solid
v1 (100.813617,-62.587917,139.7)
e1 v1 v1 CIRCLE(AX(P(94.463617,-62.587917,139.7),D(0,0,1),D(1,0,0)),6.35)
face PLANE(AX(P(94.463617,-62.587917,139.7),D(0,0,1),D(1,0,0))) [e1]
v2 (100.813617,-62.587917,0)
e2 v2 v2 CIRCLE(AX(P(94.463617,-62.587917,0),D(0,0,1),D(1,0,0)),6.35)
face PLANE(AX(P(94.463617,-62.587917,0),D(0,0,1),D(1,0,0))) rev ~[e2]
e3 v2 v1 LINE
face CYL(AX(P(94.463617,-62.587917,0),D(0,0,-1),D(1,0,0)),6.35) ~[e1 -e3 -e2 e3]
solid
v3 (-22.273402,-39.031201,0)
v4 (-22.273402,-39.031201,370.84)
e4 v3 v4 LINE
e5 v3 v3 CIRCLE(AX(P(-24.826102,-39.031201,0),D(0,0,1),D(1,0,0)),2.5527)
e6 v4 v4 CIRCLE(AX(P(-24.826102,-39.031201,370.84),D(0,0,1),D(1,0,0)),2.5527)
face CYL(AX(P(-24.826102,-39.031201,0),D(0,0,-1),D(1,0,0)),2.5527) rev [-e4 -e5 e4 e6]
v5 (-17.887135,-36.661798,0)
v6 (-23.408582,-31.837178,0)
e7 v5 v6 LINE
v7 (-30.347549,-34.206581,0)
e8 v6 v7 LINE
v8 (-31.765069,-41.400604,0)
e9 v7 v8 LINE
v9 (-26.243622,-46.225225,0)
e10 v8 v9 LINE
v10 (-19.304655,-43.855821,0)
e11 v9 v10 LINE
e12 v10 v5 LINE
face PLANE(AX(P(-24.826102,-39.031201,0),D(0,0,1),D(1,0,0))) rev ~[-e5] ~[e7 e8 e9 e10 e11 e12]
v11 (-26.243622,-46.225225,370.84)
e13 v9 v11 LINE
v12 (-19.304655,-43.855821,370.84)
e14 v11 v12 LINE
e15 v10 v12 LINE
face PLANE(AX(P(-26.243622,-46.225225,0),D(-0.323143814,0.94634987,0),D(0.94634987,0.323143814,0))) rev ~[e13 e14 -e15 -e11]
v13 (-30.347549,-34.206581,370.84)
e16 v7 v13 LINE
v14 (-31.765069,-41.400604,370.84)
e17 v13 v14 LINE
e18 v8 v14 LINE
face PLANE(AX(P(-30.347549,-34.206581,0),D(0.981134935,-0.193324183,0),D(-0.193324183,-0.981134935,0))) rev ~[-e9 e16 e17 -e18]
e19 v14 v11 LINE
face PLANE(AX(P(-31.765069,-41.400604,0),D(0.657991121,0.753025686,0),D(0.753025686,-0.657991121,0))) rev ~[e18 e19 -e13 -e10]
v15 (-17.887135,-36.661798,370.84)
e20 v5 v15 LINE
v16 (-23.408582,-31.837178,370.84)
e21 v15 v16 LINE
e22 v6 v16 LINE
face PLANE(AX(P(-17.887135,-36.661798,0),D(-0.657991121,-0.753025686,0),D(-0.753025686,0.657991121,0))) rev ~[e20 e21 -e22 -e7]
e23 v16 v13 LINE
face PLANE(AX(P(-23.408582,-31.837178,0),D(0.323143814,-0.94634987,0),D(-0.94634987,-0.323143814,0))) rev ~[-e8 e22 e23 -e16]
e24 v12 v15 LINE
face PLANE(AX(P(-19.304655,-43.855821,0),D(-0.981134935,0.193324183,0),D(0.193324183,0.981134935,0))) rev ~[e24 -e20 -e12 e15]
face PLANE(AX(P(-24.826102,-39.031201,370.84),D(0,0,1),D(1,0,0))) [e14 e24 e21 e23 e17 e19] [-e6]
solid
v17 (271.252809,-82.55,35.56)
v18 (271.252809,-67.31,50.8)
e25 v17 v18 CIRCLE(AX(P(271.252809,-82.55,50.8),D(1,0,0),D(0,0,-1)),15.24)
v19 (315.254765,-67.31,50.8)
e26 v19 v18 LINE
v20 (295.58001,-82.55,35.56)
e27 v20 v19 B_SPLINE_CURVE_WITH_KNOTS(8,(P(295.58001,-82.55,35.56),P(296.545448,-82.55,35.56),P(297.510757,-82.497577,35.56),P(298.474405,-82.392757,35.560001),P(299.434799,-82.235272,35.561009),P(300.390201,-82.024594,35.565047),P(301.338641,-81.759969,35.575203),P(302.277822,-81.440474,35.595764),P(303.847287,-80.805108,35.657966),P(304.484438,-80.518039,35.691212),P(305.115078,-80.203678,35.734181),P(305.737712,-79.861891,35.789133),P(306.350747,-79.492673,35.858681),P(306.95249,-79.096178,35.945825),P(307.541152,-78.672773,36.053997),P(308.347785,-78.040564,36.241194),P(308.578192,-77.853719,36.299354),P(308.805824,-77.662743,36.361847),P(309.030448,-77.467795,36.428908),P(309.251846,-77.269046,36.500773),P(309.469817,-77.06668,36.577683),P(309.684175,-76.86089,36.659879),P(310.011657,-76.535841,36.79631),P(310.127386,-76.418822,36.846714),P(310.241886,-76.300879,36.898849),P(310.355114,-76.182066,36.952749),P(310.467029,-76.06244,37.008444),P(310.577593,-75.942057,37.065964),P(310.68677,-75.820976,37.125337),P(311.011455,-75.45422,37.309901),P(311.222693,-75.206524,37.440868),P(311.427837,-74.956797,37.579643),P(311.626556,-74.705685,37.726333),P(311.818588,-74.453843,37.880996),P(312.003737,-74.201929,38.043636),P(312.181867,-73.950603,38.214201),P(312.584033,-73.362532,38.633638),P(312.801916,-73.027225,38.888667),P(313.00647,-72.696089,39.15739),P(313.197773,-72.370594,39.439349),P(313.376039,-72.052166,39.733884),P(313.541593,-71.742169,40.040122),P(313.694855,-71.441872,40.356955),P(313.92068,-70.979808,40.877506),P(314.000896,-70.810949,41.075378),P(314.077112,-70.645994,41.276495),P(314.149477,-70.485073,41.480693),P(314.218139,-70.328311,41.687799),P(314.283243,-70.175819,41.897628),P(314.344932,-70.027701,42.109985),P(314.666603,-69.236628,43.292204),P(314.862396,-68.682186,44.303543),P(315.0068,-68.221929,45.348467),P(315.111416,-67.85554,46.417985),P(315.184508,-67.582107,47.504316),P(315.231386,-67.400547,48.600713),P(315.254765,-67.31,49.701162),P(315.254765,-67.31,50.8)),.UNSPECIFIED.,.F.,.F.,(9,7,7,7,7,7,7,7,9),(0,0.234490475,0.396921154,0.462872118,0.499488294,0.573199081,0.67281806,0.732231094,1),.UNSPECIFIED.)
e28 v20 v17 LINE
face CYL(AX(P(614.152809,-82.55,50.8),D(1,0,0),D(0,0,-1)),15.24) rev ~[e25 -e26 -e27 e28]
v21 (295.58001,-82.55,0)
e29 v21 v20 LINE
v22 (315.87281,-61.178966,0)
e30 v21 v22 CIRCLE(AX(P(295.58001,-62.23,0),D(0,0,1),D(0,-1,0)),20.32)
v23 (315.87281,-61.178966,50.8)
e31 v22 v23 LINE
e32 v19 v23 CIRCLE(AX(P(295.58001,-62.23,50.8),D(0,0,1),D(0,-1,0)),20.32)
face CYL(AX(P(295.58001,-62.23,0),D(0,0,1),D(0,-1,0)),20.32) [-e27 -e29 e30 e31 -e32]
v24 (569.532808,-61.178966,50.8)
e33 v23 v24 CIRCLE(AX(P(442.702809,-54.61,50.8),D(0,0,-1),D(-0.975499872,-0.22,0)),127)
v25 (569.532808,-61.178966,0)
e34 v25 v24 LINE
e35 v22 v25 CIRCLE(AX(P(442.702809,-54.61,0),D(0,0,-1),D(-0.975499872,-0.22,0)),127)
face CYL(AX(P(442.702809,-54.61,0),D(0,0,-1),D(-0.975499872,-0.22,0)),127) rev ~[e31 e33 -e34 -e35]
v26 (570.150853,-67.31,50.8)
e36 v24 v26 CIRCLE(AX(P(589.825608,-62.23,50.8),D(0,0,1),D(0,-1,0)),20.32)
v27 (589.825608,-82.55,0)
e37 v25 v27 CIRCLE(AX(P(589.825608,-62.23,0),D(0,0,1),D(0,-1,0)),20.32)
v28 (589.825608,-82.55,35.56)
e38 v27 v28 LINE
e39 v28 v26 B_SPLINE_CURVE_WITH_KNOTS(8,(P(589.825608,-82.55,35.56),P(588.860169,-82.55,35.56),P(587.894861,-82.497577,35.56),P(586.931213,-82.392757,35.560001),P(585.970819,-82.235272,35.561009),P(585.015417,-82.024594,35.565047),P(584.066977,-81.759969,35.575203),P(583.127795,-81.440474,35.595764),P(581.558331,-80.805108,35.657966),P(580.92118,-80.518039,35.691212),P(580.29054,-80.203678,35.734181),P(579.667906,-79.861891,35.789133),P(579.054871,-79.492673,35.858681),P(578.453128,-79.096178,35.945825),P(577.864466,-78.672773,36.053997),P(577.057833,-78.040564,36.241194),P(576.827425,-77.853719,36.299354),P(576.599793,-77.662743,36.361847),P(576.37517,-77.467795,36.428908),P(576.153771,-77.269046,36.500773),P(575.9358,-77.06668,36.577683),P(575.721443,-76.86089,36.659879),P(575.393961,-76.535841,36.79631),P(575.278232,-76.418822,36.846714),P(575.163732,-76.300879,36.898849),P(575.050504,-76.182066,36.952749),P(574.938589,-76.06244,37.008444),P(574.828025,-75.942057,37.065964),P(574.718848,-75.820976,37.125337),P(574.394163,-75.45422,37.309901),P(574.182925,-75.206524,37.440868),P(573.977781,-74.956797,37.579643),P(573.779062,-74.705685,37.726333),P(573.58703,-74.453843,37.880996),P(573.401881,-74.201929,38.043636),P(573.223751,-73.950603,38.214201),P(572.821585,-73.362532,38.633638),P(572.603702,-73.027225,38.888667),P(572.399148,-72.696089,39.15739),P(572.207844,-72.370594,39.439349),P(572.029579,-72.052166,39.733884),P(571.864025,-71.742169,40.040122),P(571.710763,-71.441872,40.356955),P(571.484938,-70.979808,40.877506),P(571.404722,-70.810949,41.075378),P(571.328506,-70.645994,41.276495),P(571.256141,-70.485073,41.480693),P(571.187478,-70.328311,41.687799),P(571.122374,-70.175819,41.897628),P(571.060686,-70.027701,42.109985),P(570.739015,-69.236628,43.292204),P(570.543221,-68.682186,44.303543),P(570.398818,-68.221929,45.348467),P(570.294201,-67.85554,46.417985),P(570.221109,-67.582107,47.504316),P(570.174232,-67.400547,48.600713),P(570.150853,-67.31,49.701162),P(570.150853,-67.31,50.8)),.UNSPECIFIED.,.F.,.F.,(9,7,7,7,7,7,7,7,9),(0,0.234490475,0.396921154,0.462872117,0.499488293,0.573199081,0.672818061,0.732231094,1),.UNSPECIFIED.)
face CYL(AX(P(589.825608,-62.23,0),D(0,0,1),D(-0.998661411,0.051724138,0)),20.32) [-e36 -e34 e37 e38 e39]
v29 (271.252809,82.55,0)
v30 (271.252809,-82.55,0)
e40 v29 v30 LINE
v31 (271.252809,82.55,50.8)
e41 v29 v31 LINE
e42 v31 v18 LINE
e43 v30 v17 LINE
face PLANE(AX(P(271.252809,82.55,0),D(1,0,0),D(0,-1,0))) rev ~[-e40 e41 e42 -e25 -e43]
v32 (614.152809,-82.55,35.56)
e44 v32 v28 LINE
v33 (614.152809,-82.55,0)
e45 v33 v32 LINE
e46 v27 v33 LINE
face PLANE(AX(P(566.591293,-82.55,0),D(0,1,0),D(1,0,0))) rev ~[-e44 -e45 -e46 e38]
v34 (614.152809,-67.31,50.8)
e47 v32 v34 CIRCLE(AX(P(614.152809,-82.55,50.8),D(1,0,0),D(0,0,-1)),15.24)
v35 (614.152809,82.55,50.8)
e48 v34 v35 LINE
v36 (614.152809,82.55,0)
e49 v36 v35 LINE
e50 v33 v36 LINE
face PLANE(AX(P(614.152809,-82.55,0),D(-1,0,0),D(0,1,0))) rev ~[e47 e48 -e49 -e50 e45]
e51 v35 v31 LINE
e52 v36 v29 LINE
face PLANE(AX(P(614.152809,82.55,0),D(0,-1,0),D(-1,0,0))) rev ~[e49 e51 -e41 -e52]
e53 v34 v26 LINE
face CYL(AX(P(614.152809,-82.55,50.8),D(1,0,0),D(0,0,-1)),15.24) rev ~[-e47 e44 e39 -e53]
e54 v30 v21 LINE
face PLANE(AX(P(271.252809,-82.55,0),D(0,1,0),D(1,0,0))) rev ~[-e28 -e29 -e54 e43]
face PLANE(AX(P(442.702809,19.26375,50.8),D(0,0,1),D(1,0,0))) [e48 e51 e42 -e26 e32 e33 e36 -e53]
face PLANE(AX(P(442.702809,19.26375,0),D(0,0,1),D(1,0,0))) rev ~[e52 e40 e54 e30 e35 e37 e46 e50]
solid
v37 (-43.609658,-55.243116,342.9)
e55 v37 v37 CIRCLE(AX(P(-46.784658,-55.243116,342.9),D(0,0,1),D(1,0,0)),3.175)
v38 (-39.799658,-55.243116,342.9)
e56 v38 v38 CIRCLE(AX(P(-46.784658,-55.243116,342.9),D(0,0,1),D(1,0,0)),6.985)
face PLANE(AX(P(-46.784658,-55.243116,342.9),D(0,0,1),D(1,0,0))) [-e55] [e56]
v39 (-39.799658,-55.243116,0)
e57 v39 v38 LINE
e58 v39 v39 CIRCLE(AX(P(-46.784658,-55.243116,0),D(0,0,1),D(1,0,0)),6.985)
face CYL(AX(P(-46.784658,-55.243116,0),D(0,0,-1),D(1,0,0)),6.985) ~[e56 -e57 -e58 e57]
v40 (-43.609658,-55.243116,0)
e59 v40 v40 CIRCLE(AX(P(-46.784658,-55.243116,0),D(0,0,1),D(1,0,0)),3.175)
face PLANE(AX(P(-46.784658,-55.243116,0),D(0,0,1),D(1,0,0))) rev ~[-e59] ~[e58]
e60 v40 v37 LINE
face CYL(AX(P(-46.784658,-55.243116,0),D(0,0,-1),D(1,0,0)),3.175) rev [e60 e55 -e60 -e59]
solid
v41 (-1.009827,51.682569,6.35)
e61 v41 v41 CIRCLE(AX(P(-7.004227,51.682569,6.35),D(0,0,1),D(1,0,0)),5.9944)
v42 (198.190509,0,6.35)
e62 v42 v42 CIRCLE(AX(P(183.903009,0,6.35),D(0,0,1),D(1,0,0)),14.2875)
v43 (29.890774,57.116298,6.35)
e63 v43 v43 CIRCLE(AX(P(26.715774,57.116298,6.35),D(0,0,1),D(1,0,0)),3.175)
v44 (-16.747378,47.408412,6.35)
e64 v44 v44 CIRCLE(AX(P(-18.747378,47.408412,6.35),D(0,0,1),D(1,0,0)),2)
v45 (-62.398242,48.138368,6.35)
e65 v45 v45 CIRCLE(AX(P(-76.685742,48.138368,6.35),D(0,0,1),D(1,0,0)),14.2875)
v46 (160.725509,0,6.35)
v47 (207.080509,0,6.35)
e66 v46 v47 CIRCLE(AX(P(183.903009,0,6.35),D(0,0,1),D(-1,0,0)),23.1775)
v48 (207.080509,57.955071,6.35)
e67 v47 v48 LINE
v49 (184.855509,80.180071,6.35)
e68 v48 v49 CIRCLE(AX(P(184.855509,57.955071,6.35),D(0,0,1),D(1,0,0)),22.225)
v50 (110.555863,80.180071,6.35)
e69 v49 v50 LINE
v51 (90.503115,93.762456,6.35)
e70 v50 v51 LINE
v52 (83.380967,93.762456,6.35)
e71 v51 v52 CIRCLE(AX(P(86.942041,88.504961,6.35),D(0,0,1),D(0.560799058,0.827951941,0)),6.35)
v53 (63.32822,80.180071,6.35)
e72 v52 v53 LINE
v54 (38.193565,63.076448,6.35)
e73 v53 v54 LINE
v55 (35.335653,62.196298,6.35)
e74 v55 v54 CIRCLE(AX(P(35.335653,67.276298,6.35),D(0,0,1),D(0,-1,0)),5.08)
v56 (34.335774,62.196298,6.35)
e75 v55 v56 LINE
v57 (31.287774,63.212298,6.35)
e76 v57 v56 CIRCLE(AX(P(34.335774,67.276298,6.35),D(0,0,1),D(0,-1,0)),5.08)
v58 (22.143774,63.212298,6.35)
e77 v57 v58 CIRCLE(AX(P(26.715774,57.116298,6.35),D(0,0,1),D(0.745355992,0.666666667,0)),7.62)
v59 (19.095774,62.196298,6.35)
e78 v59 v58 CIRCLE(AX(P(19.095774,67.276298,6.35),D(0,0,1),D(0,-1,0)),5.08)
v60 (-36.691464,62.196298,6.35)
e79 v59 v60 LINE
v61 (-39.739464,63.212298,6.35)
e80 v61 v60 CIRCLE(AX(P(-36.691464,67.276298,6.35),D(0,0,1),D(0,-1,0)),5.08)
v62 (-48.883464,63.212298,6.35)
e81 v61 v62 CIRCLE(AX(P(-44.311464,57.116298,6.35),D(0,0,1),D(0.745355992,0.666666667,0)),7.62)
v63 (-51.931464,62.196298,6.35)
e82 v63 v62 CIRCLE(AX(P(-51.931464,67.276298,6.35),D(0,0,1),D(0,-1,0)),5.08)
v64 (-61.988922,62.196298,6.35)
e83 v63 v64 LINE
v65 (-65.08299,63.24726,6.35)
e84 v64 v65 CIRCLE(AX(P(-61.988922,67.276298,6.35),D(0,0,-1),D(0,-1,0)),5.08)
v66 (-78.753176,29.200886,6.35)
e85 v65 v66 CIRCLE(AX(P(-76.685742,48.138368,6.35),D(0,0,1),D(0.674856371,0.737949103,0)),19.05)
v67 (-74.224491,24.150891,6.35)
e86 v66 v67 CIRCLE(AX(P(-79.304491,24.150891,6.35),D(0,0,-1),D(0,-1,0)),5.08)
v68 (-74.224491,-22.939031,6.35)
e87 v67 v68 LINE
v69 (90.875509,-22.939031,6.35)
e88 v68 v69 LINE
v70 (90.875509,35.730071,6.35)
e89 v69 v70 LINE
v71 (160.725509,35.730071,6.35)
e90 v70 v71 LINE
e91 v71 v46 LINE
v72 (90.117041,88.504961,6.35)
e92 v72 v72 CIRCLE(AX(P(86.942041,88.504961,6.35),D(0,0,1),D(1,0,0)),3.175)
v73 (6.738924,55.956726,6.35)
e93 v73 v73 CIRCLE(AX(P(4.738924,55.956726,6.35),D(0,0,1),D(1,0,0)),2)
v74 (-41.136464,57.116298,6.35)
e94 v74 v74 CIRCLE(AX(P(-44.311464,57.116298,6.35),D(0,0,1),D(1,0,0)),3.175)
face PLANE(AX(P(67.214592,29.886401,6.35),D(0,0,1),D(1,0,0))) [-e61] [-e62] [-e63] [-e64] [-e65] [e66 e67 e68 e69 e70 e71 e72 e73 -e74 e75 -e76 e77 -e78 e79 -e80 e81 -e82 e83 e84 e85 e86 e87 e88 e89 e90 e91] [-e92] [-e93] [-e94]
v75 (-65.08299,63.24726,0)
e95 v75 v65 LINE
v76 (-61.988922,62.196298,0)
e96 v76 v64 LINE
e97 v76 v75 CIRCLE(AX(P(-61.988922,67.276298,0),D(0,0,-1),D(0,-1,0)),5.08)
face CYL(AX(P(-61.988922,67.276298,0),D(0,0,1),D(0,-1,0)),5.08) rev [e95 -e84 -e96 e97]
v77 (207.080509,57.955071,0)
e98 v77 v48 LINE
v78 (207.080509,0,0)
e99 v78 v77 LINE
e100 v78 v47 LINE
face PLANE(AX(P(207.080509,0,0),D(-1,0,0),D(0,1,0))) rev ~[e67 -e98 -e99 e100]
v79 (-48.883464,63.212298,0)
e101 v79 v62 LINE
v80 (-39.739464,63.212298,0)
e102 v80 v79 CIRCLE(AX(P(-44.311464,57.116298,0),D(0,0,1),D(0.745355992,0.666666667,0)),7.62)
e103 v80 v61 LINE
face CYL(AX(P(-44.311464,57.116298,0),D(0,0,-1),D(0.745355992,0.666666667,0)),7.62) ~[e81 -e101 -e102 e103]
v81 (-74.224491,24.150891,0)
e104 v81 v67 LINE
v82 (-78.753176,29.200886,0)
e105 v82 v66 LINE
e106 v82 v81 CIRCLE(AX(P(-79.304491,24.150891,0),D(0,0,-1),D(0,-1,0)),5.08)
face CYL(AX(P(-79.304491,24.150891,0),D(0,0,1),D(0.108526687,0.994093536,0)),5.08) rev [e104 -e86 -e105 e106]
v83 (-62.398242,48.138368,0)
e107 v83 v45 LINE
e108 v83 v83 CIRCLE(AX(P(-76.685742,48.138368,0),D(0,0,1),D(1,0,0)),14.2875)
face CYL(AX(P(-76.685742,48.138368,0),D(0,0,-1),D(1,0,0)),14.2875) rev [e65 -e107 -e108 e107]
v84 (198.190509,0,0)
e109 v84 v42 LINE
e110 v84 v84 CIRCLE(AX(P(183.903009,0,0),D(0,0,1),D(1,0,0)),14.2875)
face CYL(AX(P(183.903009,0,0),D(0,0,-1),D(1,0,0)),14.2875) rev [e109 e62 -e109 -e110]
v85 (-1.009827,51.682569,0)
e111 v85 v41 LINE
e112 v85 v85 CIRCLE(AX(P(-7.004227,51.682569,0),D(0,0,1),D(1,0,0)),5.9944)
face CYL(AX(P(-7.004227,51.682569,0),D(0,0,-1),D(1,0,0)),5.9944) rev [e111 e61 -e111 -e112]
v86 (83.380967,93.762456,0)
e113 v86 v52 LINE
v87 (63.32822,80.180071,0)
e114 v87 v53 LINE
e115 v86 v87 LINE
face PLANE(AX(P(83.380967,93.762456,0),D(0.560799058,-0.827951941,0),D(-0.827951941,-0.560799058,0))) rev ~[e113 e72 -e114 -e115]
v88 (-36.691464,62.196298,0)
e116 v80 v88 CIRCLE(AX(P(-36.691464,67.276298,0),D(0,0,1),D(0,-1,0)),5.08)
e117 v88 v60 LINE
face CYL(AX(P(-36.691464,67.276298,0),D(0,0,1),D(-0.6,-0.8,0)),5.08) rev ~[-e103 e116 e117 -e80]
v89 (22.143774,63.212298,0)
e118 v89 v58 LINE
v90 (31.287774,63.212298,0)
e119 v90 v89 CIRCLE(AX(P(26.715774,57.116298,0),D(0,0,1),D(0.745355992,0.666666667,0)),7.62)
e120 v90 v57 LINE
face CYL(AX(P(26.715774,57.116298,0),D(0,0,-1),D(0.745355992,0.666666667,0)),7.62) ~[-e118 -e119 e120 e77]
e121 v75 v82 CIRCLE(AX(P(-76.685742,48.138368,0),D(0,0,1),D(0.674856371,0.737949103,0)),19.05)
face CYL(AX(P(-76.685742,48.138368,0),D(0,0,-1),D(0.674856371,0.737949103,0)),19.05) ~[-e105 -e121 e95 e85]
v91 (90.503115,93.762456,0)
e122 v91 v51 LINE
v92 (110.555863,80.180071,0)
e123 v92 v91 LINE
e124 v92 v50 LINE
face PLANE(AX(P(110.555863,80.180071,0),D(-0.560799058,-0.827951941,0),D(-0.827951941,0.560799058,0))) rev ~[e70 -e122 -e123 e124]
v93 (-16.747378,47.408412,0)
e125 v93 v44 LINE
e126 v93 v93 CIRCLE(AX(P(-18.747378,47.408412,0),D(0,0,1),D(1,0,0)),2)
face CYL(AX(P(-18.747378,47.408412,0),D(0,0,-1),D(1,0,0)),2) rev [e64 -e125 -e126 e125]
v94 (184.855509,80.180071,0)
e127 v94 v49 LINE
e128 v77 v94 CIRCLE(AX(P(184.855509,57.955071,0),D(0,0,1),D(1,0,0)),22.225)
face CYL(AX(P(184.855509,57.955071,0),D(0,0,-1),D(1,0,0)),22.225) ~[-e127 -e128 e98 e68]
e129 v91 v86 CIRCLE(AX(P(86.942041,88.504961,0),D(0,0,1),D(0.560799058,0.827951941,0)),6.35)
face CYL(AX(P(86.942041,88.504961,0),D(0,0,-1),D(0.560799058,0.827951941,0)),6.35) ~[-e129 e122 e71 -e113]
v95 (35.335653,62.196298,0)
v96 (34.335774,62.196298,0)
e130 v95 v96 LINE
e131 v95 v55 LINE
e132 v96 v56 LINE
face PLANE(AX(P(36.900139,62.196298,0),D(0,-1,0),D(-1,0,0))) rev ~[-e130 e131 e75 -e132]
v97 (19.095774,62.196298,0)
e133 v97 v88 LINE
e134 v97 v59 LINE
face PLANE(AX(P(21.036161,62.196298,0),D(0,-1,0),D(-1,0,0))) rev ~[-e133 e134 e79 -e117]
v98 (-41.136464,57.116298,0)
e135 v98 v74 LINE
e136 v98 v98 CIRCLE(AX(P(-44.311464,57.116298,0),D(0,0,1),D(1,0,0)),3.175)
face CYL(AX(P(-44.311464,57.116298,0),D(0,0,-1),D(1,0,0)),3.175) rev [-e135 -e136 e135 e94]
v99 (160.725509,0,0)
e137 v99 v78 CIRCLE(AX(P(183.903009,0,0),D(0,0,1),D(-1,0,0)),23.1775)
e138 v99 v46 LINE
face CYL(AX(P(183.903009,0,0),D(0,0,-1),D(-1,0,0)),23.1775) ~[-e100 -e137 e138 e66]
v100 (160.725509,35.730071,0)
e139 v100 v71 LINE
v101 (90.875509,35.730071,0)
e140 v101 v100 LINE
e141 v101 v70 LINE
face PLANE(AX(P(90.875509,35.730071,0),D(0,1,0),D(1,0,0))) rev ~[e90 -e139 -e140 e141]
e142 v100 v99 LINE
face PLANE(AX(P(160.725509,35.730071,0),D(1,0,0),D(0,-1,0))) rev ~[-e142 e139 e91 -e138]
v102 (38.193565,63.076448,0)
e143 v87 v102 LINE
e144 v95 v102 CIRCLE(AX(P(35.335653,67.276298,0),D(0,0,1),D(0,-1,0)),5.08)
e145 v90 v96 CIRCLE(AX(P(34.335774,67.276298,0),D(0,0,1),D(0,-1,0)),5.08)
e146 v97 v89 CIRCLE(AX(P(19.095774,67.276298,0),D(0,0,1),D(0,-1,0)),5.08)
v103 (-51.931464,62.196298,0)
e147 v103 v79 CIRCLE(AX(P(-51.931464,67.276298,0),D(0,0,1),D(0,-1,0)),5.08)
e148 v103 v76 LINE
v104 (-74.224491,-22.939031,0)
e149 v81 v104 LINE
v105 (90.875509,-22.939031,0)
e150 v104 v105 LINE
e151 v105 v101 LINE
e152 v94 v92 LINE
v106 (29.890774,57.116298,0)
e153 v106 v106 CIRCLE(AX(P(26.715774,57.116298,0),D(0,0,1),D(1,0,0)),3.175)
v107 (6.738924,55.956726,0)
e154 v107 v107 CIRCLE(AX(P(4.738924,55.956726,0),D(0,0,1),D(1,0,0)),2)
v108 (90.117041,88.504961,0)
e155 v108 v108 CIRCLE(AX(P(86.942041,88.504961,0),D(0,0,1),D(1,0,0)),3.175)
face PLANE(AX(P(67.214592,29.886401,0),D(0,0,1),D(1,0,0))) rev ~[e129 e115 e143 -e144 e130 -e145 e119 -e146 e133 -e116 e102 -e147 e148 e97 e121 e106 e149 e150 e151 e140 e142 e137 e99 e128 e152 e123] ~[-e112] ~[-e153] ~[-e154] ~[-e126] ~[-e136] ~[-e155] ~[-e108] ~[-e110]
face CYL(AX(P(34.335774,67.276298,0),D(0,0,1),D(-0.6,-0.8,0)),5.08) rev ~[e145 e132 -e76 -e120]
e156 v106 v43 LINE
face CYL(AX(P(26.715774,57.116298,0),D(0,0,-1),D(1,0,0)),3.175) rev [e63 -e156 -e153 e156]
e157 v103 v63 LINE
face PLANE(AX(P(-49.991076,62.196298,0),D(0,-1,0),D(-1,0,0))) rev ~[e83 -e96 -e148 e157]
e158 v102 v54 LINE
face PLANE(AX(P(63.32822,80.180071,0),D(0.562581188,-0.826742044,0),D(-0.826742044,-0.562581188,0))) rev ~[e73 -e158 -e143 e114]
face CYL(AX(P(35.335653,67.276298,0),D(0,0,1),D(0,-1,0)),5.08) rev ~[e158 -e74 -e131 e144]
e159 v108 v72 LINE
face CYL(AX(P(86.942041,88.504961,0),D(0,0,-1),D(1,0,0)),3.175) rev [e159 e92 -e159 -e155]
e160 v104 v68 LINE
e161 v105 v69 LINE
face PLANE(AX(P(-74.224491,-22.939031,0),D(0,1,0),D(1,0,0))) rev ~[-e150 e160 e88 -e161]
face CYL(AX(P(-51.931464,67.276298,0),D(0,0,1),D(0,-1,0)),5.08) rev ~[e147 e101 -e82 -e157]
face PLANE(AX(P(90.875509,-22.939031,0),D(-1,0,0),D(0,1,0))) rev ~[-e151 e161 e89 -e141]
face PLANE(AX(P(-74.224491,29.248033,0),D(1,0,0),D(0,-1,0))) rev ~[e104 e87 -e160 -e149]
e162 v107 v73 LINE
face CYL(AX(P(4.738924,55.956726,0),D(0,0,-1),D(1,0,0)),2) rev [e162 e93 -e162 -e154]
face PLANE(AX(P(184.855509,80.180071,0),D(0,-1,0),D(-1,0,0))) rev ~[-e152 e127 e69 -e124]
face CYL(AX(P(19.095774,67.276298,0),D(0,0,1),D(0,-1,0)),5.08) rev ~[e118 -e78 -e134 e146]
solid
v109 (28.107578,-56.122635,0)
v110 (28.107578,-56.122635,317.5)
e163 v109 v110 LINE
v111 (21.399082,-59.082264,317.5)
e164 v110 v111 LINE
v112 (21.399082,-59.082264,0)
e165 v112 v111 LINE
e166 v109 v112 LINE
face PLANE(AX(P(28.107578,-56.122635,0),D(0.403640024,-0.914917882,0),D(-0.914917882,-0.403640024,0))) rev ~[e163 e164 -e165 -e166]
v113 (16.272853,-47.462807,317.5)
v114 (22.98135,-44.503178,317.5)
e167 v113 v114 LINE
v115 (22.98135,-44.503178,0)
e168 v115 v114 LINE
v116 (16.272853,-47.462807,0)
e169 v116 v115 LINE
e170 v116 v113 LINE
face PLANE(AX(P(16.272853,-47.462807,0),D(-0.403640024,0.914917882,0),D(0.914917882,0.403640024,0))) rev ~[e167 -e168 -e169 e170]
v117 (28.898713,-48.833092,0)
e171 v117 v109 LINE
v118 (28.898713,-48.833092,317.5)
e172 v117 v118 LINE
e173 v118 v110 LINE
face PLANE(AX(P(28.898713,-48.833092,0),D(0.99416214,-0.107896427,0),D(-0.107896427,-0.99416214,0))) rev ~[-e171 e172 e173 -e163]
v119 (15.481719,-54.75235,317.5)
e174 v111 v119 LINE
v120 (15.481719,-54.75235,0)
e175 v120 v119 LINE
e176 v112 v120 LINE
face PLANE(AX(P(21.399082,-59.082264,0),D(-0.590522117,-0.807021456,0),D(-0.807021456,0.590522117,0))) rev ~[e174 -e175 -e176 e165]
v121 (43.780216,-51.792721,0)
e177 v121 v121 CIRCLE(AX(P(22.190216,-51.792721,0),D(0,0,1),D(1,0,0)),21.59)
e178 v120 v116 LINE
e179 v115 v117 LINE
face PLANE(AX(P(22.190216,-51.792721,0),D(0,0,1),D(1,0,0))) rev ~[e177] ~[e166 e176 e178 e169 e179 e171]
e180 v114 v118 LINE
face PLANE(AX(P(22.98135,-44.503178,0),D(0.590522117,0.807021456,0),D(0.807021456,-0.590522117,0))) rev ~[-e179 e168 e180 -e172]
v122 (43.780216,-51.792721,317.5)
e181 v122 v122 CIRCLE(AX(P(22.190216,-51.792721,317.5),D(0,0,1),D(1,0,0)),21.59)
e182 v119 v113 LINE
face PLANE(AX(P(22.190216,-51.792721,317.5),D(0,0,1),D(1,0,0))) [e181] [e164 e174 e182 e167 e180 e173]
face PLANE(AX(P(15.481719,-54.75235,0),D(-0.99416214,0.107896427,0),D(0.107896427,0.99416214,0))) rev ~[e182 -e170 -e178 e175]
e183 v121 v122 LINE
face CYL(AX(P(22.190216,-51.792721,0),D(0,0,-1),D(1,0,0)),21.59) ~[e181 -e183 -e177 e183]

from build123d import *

# Parameters (mm, degrees)
F1_R      = 14.2875
F1_R_2    = 3.175
F1_R_3    = 2
F1_R_4    = 5.9944
F2_DEPTH  = 6.35
F3_R      = 6.985
F3_R_2    = 3.175
F4_DEPTH  = 342.9
F5_R      = 2.5527
F6_DEPTH  = 370.84
F7_R      = 21.59
F8_DEPTH  = 317.5
F10_DEPTH = 50.8
F11_R     = 20.32
F13_DEPTH = 342.9
F14_R     = 6.35
F15_DEPTH = 139.7
F16_R     = 5.08


with BuildPart() as f2:
    # F1 (on Top) → F2 (new body)
    with BuildSketch(Plane.XY):
        with BuildLine():
            Line((-49.9910764957, 62.1962980512), (-63.8297284243, 62.1962980512))
            ThreePointArc((-63.8297284243, 62.1962980512), (-94.8530671804, 53.8699299137), (-74.2244912377, 29.2480329821))
            Line((-74.2244912377, 29.2480329821), (-74.2244912377, -22.9390313281))
            Line((-74.2244912377, -22.9390313281), (90.8755087623, -22.9390313281))
            Line((90.8755087623, -22.9390313281), (90.8755087623, 35.7300707037))
            Line((90.8755087623, 35.7300707037), (160.7255087623, 35.7300707037))
            Line((160.7255087623, 35.7300707037), (160.7255087623, 0))
            ThreePointArc((160.7255087623, 0), (183.9030087623, -23.1775), (207.0805087623, 0))
            Line((207.0805087623, 0), (207.0805087623, 57.9550707037))
            ThreePointArc((207.0805087623, 57.9550707037), (200.5709569742, 73.6705189156), (184.8555087623, 80.1800707037))
            Line((184.8555087623, 80.1800707037), (110.5558629778, 80.1800707037))
            Line((110.5558629778, 80.1800707037), (90.5031153064, 93.7624556725))
            ThreePointArc((90.5031153064, 93.7624556725), (86.9420412896, 94.8549608464), (83.3809672727, 93.7624556725))
            Line((83.3809672727, 93.7624556725), (63.3282196013, 80.1800707037))
            Line((63.3282196013, 80.1800707037), (36.9001390489, 62.1962980512))
            Line((36.9001390489, 62.1962980512), (32.3953867519, 62.1962980512))
            ThreePointArc((32.3953867519, 62.1962980512), (26.7157740891, 64.7362980512), (21.0361614262, 62.1962980512))
            Line((21.0361614262, 62.1962980512), (-38.63185117, 62.1962980512))
            ThreePointArc((-38.63185117, 62.1962980512), (-44.3114638329, 64.7362980512), (-49.9910764957, 62.1962980512))
        make_face()
        with Locations((183.9030087623, 0)):
            Circle(F1_R, mode=Mode.SUBTRACT)
        with Locations((-76.6857422854, 48.1383676345)):
            Circle(F1_R, mode=Mode.SUBTRACT)
        with Locations((-44.3114638329, 57.1162980512)):
            Circle(F1_R_2, mode=Mode.SUBTRACT)
        with Locations((-18.747377767, 47.4084117594)):
            Circle(F1_R_3, mode=Mode.SUBTRACT)
        with Locations((-7.0042270236, 51.6825690866)):
            Circle(F1_R_4, mode=Mode.SUBTRACT)
        with Locations((4.7389237199, 55.9567264137)):
            Circle(F1_R_3, mode=Mode.SUBTRACT)
        with Locations((26.7157740891, 57.1162980512)):
            Circle(F1_R_2, mode=Mode.SUBTRACT)
        with Locations((86.9420412896, 88.5049608464)):
            Circle(F1_R_2, mode=Mode.SUBTRACT)
    extrude(amount=F2_DEPTH)

    # F16
    f16_edges = [f2.edges().sort_by_distance(p)[0] for p in [
        (-38.631851, 62.196298, 3.175),
        (21.036161, 62.196298, 3.175),
        (32.395387, 62.196298, 3.175),
        (36.900139, 62.196298, 3.175),
        (-49.991076, 62.196298, 3.175),
        (-63.829728, 62.196298, 3.175),
        (-74.224491, 29.248033, 3.175),
    ]]
    fillet(f16_edges, radius=F16_R)


with BuildPart() as f4:
    # F3 (on Top) → F4 (new body)
    with BuildSketch(Plane.XY):
        with Locations((-46.784657985, -55.2431158721)):
            Circle(F3_R)
        with Locations((-46.784657985, -55.2431158721)):
            Circle(F3_R_2, mode=Mode.SUBTRACT)
    extrude(amount=F4_DEPTH)


with BuildPart() as f6:
    # F5 (on Top) → F6 (new body)
    with BuildSketch(Plane.XY):
        Polygon((-26.2436224322, -46.2252245101), (-19.3046554622, -43.8558214793), (-17.8871351937, -36.6617982918), (-23.4085818952, -31.8371781352), (-30.3475488653, -34.206581166), (-31.7650691337, -41.4006043535), align=None)
        with Locations((-24.8261021637, -39.0312013227)):
            Circle(F5_R, mode=Mode.SUBTRACT)
    extrude(amount=F6_DEPTH)


with BuildPart() as f8:
    # F7 (on Top) → F8 (new body)
    with BuildSketch(Plane.XY):
        with Locations((22.1902159048, -51.7927211475)):
            Circle(F7_R)
        Polygon((28.8987125921, -48.8330918581), (28.1075783988, -56.1226350552), (21.3990817115, -59.0822643445), (15.4817192176, -54.7523504368), (16.2728534109, -47.4628072397), (22.9813500981, -44.5031779504), align=None, mode=Mode.SUBTRACT)
    extrude(amount=F8_DEPTH)


with BuildPart() as f10:
    # F9 (on Top) → F10 (new body)
    with BuildSketch(Plane.XY):
        with BuildLine():
            Line((614.152808857, 82.55), (271.252808857, 82.55))
            Line((271.252808857, 82.55), (271.252808857, -82.55))
            Line((271.252808857, -82.55), (318.8143251307, -82.55))
            ThreePointArc((318.8143251307, -82.55), (442.702808857, 72.39), (566.5912925833, -82.55))
            Line((566.5912925833, -82.55), (614.152808857, -82.55))
            Line((614.152808857, -82.55), (614.152808857, 82.55))
        make_face()
    extrude(amount=F10_DEPTH)

    # F11
    f11_edges = [f10.edges().sort_by_distance(p)[0] for p in [
        (318.814325, -82.55, 25.4),
        (566.591293, -82.55, 25.4),
    ]]
    fillet(f11_edges, radius=F11_R)

    # F12 (on face) → F13 (cut, through all)
    with BuildSketch(Plane.YZ.offset(614.152808857)):
        with BuildLine():
            Line((-82.55, 50.8), (-82.55, 35.56))
            ThreePointArc((-82.55, 35.56), (-71.7736926547, 40.0236926547), (-67.31, 50.8))
            Line((-67.31, 50.8), (-82.55, 50.8))
        make_face()
    extrude(amount=-F13_DEPTH, mode=Mode.SUBTRACT)


with BuildPart() as f15:
    # F14 (on Top) → F15 (new body)
    with BuildSketch(Plane.XY):
        with Locations((94.4636166096, -62.587916851)):
            Circle(F14_R)
    extrude(amount=F15_DEPTH)


solid = Compound([f2.part, f4.part, f6.part, f8.part, f10.part, f15.part])
